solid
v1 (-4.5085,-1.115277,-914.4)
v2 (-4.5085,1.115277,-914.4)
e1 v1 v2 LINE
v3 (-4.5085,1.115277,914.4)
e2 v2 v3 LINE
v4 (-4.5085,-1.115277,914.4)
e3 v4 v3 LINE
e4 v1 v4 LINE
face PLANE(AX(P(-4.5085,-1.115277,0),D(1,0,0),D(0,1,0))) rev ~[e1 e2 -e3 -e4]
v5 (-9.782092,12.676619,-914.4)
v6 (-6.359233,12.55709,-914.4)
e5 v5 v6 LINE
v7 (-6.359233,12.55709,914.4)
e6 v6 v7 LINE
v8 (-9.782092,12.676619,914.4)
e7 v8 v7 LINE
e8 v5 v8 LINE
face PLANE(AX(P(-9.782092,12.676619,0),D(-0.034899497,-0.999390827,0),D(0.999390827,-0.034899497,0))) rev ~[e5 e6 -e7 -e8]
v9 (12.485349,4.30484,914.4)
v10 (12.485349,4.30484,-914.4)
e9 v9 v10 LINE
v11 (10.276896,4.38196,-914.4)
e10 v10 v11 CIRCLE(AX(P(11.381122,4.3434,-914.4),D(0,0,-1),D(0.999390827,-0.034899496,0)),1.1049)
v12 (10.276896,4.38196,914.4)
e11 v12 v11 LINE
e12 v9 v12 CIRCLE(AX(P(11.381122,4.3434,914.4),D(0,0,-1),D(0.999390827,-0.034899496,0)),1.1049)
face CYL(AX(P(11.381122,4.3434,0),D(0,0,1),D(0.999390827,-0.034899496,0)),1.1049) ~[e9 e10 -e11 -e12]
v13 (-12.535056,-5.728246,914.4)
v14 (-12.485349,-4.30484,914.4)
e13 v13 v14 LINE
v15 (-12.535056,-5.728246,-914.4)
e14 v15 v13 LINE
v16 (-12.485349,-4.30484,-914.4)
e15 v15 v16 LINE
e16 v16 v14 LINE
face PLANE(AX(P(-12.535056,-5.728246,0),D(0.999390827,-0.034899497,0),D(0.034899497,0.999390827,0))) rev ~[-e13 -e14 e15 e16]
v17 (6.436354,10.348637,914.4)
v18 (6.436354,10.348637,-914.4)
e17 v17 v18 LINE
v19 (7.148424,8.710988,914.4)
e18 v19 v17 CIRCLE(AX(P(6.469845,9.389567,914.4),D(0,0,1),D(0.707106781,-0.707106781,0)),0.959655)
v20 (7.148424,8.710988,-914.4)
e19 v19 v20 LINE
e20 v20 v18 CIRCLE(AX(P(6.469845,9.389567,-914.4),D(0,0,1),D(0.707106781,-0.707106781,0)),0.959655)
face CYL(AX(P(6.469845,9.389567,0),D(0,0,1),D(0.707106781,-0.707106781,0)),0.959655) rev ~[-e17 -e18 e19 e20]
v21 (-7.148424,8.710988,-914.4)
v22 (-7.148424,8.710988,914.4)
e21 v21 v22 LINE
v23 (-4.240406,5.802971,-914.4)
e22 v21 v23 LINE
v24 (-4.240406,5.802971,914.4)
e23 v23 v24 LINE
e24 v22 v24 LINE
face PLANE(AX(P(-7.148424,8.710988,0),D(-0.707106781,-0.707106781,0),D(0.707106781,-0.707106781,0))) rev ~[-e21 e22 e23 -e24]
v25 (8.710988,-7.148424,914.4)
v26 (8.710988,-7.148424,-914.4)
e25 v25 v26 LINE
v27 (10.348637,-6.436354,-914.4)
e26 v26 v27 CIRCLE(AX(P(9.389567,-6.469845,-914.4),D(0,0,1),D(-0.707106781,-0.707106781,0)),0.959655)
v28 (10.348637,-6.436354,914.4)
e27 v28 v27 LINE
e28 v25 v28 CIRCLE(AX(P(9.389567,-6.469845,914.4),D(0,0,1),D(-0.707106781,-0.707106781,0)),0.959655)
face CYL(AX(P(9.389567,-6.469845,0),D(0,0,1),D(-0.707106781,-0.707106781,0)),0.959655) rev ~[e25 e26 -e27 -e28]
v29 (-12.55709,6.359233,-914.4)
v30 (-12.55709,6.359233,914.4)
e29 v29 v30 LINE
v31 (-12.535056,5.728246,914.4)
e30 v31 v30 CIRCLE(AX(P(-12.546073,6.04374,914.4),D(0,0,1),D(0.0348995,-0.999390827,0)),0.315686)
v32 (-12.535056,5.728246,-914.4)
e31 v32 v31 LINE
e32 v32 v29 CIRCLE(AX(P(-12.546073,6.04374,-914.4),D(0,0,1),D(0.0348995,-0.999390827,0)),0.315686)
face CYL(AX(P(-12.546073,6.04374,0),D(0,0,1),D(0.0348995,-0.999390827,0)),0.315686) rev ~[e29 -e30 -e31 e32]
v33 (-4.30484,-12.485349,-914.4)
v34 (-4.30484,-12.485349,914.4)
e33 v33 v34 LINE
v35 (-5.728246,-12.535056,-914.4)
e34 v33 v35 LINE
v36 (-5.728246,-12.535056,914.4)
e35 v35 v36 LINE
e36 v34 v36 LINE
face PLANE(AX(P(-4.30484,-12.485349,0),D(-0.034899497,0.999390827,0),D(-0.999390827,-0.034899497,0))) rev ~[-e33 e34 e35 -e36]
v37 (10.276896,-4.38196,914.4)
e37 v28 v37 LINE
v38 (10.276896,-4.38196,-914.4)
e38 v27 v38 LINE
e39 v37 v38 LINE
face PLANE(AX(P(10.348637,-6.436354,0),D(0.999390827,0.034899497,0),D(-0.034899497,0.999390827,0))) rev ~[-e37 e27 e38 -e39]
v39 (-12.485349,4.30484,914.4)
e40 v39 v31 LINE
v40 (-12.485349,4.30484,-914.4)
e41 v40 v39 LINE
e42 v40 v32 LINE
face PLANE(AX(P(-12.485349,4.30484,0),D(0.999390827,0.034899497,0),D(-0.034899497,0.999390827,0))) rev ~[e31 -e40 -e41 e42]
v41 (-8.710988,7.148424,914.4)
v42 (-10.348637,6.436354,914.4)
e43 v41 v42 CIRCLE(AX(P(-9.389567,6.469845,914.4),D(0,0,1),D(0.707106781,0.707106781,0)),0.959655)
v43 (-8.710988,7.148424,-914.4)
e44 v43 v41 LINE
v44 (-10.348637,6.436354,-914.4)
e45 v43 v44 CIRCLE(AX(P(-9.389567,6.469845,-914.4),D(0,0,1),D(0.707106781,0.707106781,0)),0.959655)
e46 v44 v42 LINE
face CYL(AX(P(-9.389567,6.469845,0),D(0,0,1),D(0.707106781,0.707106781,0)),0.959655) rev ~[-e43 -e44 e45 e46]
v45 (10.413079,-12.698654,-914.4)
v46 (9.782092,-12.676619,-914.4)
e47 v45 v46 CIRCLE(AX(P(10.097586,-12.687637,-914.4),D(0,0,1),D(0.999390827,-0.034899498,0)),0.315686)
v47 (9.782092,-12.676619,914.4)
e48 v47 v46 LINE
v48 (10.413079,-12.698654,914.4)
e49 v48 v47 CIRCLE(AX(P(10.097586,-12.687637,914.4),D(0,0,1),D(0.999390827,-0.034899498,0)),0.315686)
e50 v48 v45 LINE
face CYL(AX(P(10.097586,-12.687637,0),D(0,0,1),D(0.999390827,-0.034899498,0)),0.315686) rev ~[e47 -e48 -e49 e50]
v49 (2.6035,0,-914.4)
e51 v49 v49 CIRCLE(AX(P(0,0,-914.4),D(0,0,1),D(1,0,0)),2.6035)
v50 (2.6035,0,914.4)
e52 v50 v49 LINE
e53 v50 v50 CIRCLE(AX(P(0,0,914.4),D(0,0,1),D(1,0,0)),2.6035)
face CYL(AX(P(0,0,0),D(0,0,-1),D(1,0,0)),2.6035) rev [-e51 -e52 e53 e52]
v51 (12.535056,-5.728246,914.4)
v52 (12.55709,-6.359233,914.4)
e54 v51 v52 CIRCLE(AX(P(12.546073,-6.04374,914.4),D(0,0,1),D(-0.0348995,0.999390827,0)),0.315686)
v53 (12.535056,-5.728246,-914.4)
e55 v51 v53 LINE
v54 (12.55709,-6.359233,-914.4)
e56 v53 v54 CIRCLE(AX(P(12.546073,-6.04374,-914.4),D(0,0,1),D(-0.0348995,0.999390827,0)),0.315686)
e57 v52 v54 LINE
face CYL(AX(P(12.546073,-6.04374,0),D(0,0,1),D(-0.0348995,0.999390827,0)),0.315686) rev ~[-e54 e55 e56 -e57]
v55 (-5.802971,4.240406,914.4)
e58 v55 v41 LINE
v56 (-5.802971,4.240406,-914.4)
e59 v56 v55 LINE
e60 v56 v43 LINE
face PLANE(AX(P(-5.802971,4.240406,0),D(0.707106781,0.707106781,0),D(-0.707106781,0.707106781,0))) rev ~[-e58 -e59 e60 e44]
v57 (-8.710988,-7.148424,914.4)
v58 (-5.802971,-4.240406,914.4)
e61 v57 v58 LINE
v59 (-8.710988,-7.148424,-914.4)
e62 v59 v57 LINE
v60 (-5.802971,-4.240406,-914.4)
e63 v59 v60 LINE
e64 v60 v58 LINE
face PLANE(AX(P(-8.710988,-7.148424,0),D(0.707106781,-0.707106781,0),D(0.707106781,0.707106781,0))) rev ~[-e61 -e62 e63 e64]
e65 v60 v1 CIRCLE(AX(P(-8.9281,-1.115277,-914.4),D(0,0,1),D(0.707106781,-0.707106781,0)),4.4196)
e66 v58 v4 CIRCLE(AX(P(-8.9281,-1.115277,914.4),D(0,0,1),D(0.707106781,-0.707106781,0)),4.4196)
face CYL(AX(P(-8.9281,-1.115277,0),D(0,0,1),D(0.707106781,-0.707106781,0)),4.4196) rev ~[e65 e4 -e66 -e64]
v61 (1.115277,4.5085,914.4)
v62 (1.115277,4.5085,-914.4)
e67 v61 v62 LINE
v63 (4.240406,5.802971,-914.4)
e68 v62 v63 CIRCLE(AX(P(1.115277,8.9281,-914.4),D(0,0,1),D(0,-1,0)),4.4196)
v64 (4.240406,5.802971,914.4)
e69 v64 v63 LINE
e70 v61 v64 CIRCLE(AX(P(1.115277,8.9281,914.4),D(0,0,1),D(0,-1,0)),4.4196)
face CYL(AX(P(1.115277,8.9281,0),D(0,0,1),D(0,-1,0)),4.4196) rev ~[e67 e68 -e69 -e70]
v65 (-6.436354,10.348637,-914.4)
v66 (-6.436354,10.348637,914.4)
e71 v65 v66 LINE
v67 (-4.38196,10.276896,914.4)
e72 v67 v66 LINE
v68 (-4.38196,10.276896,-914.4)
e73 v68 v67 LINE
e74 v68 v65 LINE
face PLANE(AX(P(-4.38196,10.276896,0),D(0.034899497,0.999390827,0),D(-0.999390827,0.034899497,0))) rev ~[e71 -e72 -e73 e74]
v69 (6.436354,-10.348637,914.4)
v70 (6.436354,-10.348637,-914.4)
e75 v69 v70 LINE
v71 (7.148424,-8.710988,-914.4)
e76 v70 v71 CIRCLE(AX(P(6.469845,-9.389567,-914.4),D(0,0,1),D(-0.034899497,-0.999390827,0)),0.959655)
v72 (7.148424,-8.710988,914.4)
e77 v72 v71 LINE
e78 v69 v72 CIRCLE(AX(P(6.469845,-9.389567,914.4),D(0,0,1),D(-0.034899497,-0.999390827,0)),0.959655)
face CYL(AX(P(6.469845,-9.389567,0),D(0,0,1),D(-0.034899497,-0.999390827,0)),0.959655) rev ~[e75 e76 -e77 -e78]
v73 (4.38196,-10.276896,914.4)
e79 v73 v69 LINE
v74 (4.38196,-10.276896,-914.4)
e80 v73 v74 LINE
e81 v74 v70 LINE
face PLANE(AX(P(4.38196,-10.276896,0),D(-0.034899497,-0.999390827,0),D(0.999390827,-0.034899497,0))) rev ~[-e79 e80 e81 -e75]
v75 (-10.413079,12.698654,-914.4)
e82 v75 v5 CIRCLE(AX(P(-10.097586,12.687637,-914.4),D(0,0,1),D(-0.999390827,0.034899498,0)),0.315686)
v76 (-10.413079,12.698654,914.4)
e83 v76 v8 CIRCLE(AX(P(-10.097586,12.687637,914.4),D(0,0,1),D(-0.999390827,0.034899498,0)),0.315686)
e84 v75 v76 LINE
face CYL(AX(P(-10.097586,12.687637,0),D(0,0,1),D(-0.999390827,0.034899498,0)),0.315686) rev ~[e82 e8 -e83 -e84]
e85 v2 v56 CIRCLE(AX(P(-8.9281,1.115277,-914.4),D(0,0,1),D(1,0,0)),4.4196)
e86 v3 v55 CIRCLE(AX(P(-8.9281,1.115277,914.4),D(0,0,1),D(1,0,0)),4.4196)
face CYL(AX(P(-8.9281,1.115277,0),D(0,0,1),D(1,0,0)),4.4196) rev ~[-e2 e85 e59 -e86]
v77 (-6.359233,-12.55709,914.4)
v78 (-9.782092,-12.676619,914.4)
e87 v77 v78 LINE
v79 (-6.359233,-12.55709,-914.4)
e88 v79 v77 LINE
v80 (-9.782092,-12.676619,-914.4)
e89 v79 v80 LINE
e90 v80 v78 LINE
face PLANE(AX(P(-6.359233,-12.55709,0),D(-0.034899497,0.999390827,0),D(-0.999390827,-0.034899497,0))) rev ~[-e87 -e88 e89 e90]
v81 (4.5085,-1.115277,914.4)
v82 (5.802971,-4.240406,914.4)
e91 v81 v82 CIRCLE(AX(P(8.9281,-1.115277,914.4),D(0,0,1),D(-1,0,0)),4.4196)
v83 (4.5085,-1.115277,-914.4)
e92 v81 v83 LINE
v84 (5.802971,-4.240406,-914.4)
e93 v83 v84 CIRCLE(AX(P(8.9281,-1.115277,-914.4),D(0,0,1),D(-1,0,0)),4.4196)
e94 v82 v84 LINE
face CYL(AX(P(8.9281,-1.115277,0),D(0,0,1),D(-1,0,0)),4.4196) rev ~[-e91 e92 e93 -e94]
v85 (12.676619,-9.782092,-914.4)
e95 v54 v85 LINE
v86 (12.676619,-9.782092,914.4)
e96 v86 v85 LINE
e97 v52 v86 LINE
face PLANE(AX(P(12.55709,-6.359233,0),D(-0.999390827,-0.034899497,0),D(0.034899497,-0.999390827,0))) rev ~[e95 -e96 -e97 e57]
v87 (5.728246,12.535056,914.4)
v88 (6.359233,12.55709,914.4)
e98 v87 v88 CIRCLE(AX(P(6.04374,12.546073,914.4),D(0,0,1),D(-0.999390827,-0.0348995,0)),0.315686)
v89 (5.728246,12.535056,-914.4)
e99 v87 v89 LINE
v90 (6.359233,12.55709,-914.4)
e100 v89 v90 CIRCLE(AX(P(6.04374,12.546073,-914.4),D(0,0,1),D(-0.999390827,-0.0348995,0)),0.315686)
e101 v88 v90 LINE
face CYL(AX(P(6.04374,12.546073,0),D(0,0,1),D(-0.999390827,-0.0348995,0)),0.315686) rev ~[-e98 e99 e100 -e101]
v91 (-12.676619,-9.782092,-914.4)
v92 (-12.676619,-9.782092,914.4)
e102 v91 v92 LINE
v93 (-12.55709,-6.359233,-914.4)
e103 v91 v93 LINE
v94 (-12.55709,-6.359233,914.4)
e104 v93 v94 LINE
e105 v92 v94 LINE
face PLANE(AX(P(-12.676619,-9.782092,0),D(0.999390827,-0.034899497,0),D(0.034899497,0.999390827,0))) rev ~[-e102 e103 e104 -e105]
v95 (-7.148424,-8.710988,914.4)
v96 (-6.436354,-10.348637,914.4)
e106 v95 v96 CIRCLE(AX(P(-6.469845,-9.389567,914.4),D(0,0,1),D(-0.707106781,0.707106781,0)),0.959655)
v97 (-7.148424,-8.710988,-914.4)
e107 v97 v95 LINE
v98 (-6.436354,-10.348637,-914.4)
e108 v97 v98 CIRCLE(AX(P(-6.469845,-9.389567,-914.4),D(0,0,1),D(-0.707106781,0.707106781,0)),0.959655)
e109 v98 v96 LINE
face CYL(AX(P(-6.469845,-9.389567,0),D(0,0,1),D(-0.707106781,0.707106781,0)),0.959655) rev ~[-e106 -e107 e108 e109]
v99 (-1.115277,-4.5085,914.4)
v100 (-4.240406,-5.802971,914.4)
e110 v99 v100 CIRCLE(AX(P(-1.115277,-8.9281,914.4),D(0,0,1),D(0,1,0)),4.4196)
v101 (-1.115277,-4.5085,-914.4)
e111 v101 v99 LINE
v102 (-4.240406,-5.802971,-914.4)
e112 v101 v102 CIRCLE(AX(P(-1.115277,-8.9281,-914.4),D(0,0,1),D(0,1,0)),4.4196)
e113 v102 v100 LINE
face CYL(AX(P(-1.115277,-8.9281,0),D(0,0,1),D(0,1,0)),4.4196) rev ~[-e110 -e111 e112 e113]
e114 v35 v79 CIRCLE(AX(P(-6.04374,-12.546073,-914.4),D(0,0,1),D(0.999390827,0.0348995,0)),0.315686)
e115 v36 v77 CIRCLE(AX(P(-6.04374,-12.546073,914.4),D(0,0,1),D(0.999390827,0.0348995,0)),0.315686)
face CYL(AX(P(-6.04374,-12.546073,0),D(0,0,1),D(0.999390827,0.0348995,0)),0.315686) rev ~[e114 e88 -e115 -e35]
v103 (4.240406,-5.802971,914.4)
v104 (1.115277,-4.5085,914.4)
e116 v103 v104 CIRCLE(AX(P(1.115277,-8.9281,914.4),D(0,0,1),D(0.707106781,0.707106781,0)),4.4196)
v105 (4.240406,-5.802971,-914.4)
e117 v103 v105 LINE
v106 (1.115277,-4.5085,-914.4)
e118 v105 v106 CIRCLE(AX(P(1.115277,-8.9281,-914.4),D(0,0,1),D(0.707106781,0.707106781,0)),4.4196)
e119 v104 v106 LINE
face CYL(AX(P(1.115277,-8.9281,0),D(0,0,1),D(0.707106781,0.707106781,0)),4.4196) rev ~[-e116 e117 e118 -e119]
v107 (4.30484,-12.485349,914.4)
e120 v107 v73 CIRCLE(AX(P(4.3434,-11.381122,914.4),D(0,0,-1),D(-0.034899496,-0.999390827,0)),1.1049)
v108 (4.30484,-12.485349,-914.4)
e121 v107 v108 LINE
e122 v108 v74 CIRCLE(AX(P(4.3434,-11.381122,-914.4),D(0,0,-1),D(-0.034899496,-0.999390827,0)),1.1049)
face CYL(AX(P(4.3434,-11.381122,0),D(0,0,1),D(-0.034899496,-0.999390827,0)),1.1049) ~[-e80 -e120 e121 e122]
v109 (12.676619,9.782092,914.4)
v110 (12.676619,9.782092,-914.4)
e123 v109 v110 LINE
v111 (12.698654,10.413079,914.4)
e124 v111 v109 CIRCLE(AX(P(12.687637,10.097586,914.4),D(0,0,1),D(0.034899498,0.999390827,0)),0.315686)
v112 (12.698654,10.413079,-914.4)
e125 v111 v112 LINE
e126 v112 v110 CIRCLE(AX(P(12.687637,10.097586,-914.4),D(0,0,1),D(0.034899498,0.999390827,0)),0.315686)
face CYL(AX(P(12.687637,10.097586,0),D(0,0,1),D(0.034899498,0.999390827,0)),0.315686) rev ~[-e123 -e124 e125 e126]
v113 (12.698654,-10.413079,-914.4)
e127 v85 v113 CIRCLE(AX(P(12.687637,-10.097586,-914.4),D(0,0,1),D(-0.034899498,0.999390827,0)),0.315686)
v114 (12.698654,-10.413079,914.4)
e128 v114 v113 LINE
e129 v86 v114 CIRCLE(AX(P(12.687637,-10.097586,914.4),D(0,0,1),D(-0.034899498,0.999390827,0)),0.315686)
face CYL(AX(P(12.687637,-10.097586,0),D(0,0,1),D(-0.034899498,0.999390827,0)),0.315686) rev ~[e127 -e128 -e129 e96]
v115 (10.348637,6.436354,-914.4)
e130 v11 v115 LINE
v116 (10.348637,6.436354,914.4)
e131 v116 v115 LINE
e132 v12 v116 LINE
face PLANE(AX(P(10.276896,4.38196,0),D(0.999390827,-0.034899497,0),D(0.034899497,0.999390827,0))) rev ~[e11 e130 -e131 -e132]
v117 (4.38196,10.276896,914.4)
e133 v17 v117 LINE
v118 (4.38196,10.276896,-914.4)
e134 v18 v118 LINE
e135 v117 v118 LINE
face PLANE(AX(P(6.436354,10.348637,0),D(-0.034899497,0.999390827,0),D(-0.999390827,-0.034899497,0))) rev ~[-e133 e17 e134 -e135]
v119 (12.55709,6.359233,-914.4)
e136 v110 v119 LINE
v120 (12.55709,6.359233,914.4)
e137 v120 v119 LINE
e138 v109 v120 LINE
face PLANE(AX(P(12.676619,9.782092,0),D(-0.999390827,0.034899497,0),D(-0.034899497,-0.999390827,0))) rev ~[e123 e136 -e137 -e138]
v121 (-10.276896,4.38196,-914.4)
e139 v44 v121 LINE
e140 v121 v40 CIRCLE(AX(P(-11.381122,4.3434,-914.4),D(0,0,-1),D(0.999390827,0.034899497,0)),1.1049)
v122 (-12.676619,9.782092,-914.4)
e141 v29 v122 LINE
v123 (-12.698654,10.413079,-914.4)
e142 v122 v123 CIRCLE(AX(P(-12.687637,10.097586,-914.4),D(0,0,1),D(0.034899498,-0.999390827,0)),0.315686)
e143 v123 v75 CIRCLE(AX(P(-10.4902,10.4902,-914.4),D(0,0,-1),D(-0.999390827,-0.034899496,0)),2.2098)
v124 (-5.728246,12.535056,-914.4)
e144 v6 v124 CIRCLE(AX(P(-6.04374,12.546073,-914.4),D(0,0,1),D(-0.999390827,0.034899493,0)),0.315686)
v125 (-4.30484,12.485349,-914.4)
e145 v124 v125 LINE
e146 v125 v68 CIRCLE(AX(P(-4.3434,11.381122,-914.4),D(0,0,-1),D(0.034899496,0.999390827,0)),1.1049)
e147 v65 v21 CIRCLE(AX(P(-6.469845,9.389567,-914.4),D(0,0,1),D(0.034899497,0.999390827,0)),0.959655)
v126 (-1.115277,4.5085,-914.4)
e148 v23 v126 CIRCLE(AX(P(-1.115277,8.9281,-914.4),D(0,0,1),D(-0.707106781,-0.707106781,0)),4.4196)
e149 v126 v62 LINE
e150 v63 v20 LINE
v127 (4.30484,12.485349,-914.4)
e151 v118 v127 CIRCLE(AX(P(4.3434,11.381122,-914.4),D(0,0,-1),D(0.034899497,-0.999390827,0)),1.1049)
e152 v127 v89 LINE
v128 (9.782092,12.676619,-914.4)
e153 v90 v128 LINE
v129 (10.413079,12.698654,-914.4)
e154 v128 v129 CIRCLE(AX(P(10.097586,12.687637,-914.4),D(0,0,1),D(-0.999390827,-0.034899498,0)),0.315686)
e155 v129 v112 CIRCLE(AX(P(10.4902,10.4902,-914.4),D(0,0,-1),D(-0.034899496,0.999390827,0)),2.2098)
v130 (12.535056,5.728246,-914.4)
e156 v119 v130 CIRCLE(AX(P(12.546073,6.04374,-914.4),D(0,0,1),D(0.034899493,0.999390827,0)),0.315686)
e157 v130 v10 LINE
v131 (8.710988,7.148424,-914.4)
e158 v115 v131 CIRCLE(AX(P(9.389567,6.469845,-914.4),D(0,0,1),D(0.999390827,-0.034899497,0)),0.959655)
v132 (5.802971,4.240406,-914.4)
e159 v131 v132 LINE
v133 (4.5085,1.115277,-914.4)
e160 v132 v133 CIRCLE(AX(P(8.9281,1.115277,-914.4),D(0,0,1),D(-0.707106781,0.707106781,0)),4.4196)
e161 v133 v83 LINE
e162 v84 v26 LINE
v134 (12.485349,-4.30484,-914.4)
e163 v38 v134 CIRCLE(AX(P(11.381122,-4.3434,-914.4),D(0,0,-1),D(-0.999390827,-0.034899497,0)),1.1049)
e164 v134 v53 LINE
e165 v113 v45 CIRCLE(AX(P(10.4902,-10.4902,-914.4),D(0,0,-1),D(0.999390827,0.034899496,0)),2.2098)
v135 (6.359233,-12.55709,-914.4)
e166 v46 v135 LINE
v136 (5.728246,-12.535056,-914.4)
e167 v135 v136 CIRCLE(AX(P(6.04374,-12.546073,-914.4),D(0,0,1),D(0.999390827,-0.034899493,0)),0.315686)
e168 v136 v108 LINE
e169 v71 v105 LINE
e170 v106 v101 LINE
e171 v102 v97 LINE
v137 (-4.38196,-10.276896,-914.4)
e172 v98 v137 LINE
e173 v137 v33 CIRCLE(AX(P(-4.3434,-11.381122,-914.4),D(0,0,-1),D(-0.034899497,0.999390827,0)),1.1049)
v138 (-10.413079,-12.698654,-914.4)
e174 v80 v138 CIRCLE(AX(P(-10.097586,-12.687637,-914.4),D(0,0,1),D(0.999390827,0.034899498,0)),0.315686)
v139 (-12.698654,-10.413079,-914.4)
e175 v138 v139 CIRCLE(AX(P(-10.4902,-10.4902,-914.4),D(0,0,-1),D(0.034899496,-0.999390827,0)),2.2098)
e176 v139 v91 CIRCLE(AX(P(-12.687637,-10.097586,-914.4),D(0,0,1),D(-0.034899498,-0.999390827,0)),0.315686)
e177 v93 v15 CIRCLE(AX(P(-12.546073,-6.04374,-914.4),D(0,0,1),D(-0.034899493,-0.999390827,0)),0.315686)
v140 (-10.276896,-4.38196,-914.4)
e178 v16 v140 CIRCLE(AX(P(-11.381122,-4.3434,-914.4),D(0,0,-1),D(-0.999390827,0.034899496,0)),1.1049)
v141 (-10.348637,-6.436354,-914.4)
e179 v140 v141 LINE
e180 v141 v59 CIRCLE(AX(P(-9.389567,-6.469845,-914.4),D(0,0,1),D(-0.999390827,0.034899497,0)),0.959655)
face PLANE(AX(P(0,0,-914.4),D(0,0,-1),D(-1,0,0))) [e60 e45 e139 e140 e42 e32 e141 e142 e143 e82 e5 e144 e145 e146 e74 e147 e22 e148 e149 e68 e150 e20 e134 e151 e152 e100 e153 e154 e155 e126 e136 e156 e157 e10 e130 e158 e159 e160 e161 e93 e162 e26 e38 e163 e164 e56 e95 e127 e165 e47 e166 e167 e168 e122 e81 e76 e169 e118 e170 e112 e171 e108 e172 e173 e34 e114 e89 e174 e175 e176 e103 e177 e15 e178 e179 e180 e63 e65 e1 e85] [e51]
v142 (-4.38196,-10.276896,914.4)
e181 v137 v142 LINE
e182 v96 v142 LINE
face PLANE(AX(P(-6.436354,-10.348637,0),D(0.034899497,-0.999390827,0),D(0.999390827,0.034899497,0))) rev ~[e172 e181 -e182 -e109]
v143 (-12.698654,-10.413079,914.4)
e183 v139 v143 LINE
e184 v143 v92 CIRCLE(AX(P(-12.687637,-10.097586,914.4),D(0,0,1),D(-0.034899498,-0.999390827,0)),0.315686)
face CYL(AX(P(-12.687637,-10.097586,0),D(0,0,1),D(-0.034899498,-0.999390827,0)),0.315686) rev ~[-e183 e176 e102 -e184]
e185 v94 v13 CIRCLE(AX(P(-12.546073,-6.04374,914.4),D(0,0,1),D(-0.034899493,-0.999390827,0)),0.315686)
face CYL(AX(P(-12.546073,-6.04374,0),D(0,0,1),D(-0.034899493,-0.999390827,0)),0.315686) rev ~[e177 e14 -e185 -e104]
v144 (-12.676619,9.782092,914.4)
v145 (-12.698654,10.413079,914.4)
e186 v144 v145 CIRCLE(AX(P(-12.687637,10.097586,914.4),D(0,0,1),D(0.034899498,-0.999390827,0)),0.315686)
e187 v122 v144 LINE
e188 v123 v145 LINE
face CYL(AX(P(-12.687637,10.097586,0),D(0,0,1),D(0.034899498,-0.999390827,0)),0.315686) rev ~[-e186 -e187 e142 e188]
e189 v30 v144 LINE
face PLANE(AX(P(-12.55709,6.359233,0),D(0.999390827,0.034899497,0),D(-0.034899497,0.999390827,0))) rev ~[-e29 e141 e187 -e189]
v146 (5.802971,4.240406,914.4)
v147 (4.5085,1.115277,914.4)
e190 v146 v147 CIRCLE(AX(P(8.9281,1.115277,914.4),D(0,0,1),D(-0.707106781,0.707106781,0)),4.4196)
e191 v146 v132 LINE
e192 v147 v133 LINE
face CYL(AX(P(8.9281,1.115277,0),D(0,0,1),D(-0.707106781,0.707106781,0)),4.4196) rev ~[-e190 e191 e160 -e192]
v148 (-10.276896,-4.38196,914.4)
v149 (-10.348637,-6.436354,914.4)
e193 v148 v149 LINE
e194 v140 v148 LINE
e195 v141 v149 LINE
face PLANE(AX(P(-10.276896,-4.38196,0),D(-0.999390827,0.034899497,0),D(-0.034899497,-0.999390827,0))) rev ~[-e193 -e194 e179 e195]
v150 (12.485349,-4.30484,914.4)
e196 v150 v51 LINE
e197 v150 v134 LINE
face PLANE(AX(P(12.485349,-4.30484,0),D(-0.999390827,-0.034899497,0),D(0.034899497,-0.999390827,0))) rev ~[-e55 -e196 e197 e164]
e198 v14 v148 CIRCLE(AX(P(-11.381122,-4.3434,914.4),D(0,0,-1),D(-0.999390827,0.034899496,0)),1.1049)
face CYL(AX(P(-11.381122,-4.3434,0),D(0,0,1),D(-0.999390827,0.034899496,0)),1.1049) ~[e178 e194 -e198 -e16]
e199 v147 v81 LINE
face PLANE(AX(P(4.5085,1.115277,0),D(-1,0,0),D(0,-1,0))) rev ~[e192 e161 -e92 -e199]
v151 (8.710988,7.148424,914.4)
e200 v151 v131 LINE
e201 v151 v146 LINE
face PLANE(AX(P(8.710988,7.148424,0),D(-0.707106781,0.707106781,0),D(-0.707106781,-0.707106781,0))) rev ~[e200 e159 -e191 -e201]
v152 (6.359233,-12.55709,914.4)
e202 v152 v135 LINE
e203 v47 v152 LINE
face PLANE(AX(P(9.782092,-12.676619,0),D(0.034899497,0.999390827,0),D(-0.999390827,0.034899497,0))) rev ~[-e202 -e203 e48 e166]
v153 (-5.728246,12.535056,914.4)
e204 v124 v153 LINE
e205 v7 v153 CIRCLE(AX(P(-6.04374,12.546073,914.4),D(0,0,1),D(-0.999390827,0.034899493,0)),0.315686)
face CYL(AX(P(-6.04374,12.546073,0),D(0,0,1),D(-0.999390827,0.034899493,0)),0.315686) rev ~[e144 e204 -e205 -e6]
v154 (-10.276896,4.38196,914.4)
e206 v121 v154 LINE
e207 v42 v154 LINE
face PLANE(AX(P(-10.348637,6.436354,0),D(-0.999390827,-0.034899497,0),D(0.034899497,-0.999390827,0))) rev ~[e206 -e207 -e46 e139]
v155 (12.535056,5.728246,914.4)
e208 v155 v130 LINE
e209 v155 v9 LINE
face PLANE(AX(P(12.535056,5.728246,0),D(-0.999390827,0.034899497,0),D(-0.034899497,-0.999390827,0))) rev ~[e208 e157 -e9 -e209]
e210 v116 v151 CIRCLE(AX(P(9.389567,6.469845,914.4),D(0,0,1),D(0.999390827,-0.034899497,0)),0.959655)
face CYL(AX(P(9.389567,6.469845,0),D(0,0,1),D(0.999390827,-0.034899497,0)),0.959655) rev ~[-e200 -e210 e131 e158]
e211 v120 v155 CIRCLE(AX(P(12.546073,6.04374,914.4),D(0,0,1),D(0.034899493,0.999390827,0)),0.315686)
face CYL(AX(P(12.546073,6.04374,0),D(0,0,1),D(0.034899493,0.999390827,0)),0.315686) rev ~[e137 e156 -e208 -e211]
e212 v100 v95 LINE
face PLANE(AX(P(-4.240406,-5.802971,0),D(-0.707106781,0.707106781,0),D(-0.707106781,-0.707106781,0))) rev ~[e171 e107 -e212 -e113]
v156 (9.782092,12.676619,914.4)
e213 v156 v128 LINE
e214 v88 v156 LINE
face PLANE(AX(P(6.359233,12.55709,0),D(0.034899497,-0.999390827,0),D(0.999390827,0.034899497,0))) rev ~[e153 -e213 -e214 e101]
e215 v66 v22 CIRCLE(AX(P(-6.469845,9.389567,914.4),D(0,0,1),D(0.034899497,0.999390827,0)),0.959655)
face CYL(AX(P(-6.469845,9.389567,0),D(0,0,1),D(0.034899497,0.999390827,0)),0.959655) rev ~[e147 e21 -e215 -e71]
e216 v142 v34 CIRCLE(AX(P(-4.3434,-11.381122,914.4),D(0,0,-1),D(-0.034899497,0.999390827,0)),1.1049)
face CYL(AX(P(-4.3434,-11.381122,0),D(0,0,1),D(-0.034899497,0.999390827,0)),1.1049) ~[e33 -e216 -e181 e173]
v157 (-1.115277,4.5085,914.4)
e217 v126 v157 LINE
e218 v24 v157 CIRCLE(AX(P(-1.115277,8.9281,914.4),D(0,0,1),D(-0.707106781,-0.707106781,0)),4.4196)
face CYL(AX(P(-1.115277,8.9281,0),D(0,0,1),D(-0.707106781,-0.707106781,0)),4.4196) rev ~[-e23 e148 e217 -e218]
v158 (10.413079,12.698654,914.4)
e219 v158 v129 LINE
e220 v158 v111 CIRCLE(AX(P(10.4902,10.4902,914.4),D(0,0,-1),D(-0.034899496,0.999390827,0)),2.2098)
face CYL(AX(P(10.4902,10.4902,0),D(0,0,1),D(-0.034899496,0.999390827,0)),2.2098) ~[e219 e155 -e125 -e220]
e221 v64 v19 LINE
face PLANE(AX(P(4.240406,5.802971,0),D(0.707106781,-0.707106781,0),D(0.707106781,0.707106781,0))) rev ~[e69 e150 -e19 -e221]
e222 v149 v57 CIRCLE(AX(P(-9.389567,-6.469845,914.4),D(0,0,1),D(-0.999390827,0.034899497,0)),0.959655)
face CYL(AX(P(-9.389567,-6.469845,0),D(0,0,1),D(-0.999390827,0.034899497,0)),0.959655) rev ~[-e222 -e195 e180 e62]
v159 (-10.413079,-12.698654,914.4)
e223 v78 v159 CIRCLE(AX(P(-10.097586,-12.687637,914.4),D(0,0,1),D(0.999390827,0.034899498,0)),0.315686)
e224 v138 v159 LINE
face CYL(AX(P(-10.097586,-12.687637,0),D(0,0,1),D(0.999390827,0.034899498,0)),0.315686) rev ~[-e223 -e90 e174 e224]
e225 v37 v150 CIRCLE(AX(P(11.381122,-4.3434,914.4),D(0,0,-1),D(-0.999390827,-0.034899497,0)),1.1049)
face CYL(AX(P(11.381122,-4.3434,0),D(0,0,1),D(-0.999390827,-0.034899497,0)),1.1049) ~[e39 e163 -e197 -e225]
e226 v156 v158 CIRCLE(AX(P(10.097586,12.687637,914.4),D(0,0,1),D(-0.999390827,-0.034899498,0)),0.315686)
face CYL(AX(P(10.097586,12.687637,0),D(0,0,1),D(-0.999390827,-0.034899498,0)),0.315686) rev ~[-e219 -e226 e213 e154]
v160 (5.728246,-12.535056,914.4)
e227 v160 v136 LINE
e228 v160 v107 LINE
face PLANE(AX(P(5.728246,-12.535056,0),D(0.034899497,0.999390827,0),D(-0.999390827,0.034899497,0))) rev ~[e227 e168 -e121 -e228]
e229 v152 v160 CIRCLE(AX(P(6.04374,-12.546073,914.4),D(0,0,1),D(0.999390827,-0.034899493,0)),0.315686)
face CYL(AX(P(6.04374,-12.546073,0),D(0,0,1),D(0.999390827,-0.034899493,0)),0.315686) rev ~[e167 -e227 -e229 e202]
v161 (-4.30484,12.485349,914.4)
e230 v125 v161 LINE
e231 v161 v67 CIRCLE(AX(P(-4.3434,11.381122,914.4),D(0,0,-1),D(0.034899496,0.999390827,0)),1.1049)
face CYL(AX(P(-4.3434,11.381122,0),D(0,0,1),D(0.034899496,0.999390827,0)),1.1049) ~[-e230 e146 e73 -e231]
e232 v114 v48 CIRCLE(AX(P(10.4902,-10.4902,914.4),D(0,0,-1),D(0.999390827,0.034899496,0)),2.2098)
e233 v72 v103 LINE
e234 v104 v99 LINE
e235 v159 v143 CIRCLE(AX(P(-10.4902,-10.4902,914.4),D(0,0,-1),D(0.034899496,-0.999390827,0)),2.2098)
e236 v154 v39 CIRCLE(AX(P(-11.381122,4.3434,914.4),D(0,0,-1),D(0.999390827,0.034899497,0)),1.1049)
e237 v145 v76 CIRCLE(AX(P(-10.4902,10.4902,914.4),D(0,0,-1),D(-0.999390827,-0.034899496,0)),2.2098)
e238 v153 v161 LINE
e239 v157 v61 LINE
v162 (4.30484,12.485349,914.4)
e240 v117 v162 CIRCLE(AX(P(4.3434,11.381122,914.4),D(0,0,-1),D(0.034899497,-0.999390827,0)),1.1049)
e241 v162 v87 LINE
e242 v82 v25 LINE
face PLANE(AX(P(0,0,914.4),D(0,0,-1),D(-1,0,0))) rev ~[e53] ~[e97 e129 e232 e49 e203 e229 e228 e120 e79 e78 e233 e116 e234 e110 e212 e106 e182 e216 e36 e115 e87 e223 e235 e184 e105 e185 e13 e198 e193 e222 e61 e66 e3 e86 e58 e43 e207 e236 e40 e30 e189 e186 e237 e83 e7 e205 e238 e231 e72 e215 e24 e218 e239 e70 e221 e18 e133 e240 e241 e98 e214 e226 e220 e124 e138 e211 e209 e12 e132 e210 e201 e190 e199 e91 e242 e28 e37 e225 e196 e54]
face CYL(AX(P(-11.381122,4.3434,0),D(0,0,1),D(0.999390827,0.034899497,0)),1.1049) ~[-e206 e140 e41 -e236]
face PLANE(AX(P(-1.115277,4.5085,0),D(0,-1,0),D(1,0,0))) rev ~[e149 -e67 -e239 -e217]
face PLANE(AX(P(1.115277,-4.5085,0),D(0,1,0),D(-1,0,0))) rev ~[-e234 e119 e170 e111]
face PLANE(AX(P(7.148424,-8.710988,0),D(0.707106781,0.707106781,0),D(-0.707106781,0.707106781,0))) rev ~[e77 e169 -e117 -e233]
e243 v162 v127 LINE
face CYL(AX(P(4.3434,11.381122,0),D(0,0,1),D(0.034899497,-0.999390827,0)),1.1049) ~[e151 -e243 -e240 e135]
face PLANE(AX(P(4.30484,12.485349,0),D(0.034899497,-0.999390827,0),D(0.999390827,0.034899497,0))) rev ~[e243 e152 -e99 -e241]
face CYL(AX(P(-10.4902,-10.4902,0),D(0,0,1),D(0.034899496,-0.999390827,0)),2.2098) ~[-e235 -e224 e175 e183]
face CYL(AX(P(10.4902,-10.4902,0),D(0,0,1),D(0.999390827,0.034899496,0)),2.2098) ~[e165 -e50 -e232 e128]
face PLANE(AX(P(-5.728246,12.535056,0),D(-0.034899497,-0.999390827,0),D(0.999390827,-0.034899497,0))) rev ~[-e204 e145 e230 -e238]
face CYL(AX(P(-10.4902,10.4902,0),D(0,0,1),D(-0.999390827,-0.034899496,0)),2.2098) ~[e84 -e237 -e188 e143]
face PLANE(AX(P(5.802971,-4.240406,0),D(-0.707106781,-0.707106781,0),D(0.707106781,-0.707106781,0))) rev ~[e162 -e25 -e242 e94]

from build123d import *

# Parameters (mm, degrees)
SKETCH3_R      = 2.6035
EXTRUDE1_DEPTH = 914.4


with BuildPart() as part:
    # Sketch3 → Extrude1 (new body, symmetric)
    with BuildSketch(Plane.XY):
        with BuildLine():
            Line((-1.115277175, 4.5085), (1.115277175, 4.5085))
            ThreePointArc((1.115277175, 4.5085), (2.806584872, 4.844922018), (4.240406305, 5.80297087))
            Line((4.240406305, 5.80297087), (7.148423664, 8.710988229))
            ThreePointArc((7.148423664, 8.710988229), (7.349906316, 9.772227925), (6.436353897, 10.348636575))
            Line((6.436353897, 10.348636575), (4.381960454, 10.276895575))
            ThreePointArc((4.381960454, 10.276895575), (3.239173075, 11.342562046), (4.304839546, 12.485349424))
            Line((4.304839546, 12.485349424), (5.728246175, 12.535055879))
            ThreePointArc((5.728246175, 12.535055879), (6.054756855, 12.230579745), (6.35923299, 12.557090424))
            Line((6.35923299, 12.557090424), (9.782092278, 12.676619304))
            ThreePointArc((9.782092278, 12.676619304), (10.108602958, 12.37214317), (10.413079092, 12.69865385))
            ThreePointArc((10.413079092, 12.69865385), (12.052764565, 12.052764565), (12.69865385, 10.413079092))
            ThreePointArc((12.69865385, 10.413079092), (12.37214317, 10.108602958), (12.676619304, 9.782092278))
            Line((12.676619304, 9.782092278), (12.557090424, 6.35923299))
            ThreePointArc((12.557090424, 6.35923299), (12.230579745, 6.054756855), (12.535055879, 5.728246175))
            Line((12.535055879, 5.728246175), (12.485349424, 4.304839546))
            ThreePointArc((12.485349424, 4.304839546), (11.342562046, 3.239173075), (10.276895575, 4.381960454))
            Line((10.276895575, 4.381960454), (10.348636575, 6.436353897))
            ThreePointArc((10.348636575, 6.436353897), (9.772227925, 7.349906316), (8.710988229, 7.148423664))
            Line((8.710988229, 7.148423664), (5.80297087, 4.240406305))
            ThreePointArc((5.80297087, 4.240406305), (4.844922018, 2.806584872), (4.5085, 1.115277175))
            Line((4.5085, 1.115277175), (4.5085, -1.115277175))
            ThreePointArc((4.5085, -1.115277175), (4.844922018, -2.806584872), (5.80297087, -4.240406305))
            Line((5.80297087, -4.240406305), (8.710988229, -7.148423664))
            ThreePointArc((8.710988229, -7.148423664), (9.772227925, -7.349906316), (10.348636575, -6.436353897))
            Line((10.348636575, -6.436353897), (10.276895575, -4.381960454))
            ThreePointArc((10.276895575, -4.381960454), (11.342562046, -3.239173075), (12.485349424, -4.304839546))
            Line((12.485349424, -4.304839546), (12.535055879, -5.728246175))
            ThreePointArc((12.535055879, -5.728246175), (12.230579745, -6.054756855), (12.557090424, -6.35923299))
            Line((12.557090424, -6.35923299), (12.676619304, -9.782092278))
            ThreePointArc((12.676619304, -9.782092278), (12.37214317, -10.108602958), (12.69865385, -10.413079092))
            ThreePointArc((12.69865385, -10.413079092), (12.052764565, -12.052764565), (10.413079092, -12.69865385))
            ThreePointArc((10.413079092, -12.69865385), (10.108602958, -12.37214317), (9.782092278, -12.676619304))
            Line((9.782092278, -12.676619304), (6.35923299, -12.557090424))
            ThreePointArc((6.35923299, -12.557090424), (6.054756855, -12.230579745), (5.728246175, -12.535055879))
            Line((5.728246175, -12.535055879), (4.304839546, -12.485349424))
            ThreePointArc((4.304839546, -12.485349424), (3.239173075, -11.342562046), (4.381960454, -10.276895575))
            Line((4.381960454, -10.276895575), (6.436353897, -10.348636575))
            ThreePointArc((6.436353897, -10.348636575), (7.349906316, -9.772227925), (7.148423664, -8.710988229))
            Line((7.148423664, -8.710988229), (4.240406305, -5.80297087))
            ThreePointArc((4.240406305, -5.80297087), (2.806584872, -4.844922018), (1.115277175, -4.5085))
            Line((1.115277175, -4.5085), (-1.115277175, -4.5085))
            ThreePointArc((-1.115277175, -4.5085), (-2.806584872, -4.844922018), (-4.240406305, -5.80297087))
            Line((-4.240406305, -5.80297087), (-7.148423664, -8.710988229))
            ThreePointArc((-7.148423664, -8.710988229), (-7.349906316, -9.772227925), (-6.436353897, -10.348636575))
            Line((-6.436353897, -10.348636575), (-4.381960454, -10.276895575))
            ThreePointArc((-4.381960454, -10.276895575), (-3.239173075, -11.342562046), (-4.304839546, -12.485349424))
            Line((-4.304839546, -12.485349424), (-5.728246175, -12.535055879))
            ThreePointArc((-5.728246175, -12.535055879), (-6.054756855, -12.230579745), (-6.35923299, -12.557090424))
            Line((-6.35923299, -12.557090424), (-9.782092278, -12.676619304))
            ThreePointArc((-9.782092278, -12.676619304), (-10.108602958, -12.37214317), (-10.413079092, -12.69865385))
            ThreePointArc((-10.413079092, -12.69865385), (-12.052764565, -12.052764565), (-12.69865385, -10.413079092))
            ThreePointArc((-12.69865385, -10.413079092), (-12.37214317, -10.108602958), (-12.676619304, -9.782092278))
            Line((-12.676619304, -9.782092278), (-12.557090424, -6.35923299))
            ThreePointArc((-12.557090424, -6.35923299), (-12.230579745, -6.054756855), (-12.535055879, -5.728246175))
            Line((-12.535055879, -5.728246175), (-12.485349424, -4.304839546))
            ThreePointArc((-12.485349424, -4.304839546), (-11.342562046, -3.239173075), (-10.276895575, -4.381960454))
            Line((-10.276895575, -4.381960454), (-10.348636575, -6.436353897))
            ThreePointArc((-10.348636575, -6.436353897), (-9.772227925, -7.349906316), (-8.710988229, -7.148423664))
            Line((-8.710988229, -7.148423664), (-5.80297087, -4.240406305))
            ThreePointArc((-5.80297087, -4.240406305), (-4.844922018, -2.806584872), (-4.5085, -1.115277175))
            Line((-4.5085, -1.115277175), (-4.5085, 1.115277175))
            ThreePointArc((-4.5085, 1.115277175), (-4.844922018, 2.806584872), (-5.80297087, 4.240406305))
            Line((-5.80297087, 4.240406305), (-8.710988229, 7.148423664))
            ThreePointArc((-8.710988229, 7.148423664), (-9.772227925, 7.349906316), (-10.348636575, 6.436353897))
            Line((-10.348636575, 6.436353897), (-10.276895575, 4.381960454))
            ThreePointArc((-10.276895575, 4.381960454), (-11.342562046, 3.239173075), (-12.485349424, 4.304839546))
            Line((-12.485349424, 4.304839546), (-12.535055879, 5.728246175))
            ThreePointArc((-12.535055879, 5.728246175), (-12.230579745, 6.054756855), (-12.557090424, 6.35923299))
            Line((-12.557090424, 6.35923299), (-12.676619304, 9.782092278))
            ThreePointArc((-12.676619304, 9.782092278), (-12.37214317, 10.108602958), (-12.69865385, 10.413079092))
            ThreePointArc((-12.69865385, 10.413079092), (-12.052764565, 12.052764565), (-10.413079092, 12.69865385))
            ThreePointArc((-10.413079092, 12.69865385), (-10.108602958, 12.37214317), (-9.782092278, 12.676619304))
            Line((-9.782092278, 12.676619304), (-6.35923299, 12.557090424))
            ThreePointArc((-6.35923299, 12.557090424), (-6.054756855, 12.230579745), (-5.728246175, 12.535055879))
            Line((-5.728246175, 12.535055879), (-4.304839546, 12.485349424))
            ThreePointArc((-4.304839546, 12.485349424), (-3.239173075, 11.342562046), (-4.381960454, 10.276895575))
            Line((-4.381960454, 10.276895575), (-6.436353897, 10.348636575))
            ThreePointArc((-6.436353897, 10.348636575), (-7.349906316, 9.772227925), (-7.148423664, 8.710988229))
            Line((-7.148423664, 8.710988229), (-4.240406305, 5.80297087))
            ThreePointArc((-4.240406305, 5.80297087), (-2.806584872, 4.844922018), (-1.115277175, 4.5085))
        make_face()
        Circle(SKETCH3_R, mode=Mode.SUBTRACT)
    extrude(amount=EXTRUDE1_DEPTH, both=True)


solid = part.part
